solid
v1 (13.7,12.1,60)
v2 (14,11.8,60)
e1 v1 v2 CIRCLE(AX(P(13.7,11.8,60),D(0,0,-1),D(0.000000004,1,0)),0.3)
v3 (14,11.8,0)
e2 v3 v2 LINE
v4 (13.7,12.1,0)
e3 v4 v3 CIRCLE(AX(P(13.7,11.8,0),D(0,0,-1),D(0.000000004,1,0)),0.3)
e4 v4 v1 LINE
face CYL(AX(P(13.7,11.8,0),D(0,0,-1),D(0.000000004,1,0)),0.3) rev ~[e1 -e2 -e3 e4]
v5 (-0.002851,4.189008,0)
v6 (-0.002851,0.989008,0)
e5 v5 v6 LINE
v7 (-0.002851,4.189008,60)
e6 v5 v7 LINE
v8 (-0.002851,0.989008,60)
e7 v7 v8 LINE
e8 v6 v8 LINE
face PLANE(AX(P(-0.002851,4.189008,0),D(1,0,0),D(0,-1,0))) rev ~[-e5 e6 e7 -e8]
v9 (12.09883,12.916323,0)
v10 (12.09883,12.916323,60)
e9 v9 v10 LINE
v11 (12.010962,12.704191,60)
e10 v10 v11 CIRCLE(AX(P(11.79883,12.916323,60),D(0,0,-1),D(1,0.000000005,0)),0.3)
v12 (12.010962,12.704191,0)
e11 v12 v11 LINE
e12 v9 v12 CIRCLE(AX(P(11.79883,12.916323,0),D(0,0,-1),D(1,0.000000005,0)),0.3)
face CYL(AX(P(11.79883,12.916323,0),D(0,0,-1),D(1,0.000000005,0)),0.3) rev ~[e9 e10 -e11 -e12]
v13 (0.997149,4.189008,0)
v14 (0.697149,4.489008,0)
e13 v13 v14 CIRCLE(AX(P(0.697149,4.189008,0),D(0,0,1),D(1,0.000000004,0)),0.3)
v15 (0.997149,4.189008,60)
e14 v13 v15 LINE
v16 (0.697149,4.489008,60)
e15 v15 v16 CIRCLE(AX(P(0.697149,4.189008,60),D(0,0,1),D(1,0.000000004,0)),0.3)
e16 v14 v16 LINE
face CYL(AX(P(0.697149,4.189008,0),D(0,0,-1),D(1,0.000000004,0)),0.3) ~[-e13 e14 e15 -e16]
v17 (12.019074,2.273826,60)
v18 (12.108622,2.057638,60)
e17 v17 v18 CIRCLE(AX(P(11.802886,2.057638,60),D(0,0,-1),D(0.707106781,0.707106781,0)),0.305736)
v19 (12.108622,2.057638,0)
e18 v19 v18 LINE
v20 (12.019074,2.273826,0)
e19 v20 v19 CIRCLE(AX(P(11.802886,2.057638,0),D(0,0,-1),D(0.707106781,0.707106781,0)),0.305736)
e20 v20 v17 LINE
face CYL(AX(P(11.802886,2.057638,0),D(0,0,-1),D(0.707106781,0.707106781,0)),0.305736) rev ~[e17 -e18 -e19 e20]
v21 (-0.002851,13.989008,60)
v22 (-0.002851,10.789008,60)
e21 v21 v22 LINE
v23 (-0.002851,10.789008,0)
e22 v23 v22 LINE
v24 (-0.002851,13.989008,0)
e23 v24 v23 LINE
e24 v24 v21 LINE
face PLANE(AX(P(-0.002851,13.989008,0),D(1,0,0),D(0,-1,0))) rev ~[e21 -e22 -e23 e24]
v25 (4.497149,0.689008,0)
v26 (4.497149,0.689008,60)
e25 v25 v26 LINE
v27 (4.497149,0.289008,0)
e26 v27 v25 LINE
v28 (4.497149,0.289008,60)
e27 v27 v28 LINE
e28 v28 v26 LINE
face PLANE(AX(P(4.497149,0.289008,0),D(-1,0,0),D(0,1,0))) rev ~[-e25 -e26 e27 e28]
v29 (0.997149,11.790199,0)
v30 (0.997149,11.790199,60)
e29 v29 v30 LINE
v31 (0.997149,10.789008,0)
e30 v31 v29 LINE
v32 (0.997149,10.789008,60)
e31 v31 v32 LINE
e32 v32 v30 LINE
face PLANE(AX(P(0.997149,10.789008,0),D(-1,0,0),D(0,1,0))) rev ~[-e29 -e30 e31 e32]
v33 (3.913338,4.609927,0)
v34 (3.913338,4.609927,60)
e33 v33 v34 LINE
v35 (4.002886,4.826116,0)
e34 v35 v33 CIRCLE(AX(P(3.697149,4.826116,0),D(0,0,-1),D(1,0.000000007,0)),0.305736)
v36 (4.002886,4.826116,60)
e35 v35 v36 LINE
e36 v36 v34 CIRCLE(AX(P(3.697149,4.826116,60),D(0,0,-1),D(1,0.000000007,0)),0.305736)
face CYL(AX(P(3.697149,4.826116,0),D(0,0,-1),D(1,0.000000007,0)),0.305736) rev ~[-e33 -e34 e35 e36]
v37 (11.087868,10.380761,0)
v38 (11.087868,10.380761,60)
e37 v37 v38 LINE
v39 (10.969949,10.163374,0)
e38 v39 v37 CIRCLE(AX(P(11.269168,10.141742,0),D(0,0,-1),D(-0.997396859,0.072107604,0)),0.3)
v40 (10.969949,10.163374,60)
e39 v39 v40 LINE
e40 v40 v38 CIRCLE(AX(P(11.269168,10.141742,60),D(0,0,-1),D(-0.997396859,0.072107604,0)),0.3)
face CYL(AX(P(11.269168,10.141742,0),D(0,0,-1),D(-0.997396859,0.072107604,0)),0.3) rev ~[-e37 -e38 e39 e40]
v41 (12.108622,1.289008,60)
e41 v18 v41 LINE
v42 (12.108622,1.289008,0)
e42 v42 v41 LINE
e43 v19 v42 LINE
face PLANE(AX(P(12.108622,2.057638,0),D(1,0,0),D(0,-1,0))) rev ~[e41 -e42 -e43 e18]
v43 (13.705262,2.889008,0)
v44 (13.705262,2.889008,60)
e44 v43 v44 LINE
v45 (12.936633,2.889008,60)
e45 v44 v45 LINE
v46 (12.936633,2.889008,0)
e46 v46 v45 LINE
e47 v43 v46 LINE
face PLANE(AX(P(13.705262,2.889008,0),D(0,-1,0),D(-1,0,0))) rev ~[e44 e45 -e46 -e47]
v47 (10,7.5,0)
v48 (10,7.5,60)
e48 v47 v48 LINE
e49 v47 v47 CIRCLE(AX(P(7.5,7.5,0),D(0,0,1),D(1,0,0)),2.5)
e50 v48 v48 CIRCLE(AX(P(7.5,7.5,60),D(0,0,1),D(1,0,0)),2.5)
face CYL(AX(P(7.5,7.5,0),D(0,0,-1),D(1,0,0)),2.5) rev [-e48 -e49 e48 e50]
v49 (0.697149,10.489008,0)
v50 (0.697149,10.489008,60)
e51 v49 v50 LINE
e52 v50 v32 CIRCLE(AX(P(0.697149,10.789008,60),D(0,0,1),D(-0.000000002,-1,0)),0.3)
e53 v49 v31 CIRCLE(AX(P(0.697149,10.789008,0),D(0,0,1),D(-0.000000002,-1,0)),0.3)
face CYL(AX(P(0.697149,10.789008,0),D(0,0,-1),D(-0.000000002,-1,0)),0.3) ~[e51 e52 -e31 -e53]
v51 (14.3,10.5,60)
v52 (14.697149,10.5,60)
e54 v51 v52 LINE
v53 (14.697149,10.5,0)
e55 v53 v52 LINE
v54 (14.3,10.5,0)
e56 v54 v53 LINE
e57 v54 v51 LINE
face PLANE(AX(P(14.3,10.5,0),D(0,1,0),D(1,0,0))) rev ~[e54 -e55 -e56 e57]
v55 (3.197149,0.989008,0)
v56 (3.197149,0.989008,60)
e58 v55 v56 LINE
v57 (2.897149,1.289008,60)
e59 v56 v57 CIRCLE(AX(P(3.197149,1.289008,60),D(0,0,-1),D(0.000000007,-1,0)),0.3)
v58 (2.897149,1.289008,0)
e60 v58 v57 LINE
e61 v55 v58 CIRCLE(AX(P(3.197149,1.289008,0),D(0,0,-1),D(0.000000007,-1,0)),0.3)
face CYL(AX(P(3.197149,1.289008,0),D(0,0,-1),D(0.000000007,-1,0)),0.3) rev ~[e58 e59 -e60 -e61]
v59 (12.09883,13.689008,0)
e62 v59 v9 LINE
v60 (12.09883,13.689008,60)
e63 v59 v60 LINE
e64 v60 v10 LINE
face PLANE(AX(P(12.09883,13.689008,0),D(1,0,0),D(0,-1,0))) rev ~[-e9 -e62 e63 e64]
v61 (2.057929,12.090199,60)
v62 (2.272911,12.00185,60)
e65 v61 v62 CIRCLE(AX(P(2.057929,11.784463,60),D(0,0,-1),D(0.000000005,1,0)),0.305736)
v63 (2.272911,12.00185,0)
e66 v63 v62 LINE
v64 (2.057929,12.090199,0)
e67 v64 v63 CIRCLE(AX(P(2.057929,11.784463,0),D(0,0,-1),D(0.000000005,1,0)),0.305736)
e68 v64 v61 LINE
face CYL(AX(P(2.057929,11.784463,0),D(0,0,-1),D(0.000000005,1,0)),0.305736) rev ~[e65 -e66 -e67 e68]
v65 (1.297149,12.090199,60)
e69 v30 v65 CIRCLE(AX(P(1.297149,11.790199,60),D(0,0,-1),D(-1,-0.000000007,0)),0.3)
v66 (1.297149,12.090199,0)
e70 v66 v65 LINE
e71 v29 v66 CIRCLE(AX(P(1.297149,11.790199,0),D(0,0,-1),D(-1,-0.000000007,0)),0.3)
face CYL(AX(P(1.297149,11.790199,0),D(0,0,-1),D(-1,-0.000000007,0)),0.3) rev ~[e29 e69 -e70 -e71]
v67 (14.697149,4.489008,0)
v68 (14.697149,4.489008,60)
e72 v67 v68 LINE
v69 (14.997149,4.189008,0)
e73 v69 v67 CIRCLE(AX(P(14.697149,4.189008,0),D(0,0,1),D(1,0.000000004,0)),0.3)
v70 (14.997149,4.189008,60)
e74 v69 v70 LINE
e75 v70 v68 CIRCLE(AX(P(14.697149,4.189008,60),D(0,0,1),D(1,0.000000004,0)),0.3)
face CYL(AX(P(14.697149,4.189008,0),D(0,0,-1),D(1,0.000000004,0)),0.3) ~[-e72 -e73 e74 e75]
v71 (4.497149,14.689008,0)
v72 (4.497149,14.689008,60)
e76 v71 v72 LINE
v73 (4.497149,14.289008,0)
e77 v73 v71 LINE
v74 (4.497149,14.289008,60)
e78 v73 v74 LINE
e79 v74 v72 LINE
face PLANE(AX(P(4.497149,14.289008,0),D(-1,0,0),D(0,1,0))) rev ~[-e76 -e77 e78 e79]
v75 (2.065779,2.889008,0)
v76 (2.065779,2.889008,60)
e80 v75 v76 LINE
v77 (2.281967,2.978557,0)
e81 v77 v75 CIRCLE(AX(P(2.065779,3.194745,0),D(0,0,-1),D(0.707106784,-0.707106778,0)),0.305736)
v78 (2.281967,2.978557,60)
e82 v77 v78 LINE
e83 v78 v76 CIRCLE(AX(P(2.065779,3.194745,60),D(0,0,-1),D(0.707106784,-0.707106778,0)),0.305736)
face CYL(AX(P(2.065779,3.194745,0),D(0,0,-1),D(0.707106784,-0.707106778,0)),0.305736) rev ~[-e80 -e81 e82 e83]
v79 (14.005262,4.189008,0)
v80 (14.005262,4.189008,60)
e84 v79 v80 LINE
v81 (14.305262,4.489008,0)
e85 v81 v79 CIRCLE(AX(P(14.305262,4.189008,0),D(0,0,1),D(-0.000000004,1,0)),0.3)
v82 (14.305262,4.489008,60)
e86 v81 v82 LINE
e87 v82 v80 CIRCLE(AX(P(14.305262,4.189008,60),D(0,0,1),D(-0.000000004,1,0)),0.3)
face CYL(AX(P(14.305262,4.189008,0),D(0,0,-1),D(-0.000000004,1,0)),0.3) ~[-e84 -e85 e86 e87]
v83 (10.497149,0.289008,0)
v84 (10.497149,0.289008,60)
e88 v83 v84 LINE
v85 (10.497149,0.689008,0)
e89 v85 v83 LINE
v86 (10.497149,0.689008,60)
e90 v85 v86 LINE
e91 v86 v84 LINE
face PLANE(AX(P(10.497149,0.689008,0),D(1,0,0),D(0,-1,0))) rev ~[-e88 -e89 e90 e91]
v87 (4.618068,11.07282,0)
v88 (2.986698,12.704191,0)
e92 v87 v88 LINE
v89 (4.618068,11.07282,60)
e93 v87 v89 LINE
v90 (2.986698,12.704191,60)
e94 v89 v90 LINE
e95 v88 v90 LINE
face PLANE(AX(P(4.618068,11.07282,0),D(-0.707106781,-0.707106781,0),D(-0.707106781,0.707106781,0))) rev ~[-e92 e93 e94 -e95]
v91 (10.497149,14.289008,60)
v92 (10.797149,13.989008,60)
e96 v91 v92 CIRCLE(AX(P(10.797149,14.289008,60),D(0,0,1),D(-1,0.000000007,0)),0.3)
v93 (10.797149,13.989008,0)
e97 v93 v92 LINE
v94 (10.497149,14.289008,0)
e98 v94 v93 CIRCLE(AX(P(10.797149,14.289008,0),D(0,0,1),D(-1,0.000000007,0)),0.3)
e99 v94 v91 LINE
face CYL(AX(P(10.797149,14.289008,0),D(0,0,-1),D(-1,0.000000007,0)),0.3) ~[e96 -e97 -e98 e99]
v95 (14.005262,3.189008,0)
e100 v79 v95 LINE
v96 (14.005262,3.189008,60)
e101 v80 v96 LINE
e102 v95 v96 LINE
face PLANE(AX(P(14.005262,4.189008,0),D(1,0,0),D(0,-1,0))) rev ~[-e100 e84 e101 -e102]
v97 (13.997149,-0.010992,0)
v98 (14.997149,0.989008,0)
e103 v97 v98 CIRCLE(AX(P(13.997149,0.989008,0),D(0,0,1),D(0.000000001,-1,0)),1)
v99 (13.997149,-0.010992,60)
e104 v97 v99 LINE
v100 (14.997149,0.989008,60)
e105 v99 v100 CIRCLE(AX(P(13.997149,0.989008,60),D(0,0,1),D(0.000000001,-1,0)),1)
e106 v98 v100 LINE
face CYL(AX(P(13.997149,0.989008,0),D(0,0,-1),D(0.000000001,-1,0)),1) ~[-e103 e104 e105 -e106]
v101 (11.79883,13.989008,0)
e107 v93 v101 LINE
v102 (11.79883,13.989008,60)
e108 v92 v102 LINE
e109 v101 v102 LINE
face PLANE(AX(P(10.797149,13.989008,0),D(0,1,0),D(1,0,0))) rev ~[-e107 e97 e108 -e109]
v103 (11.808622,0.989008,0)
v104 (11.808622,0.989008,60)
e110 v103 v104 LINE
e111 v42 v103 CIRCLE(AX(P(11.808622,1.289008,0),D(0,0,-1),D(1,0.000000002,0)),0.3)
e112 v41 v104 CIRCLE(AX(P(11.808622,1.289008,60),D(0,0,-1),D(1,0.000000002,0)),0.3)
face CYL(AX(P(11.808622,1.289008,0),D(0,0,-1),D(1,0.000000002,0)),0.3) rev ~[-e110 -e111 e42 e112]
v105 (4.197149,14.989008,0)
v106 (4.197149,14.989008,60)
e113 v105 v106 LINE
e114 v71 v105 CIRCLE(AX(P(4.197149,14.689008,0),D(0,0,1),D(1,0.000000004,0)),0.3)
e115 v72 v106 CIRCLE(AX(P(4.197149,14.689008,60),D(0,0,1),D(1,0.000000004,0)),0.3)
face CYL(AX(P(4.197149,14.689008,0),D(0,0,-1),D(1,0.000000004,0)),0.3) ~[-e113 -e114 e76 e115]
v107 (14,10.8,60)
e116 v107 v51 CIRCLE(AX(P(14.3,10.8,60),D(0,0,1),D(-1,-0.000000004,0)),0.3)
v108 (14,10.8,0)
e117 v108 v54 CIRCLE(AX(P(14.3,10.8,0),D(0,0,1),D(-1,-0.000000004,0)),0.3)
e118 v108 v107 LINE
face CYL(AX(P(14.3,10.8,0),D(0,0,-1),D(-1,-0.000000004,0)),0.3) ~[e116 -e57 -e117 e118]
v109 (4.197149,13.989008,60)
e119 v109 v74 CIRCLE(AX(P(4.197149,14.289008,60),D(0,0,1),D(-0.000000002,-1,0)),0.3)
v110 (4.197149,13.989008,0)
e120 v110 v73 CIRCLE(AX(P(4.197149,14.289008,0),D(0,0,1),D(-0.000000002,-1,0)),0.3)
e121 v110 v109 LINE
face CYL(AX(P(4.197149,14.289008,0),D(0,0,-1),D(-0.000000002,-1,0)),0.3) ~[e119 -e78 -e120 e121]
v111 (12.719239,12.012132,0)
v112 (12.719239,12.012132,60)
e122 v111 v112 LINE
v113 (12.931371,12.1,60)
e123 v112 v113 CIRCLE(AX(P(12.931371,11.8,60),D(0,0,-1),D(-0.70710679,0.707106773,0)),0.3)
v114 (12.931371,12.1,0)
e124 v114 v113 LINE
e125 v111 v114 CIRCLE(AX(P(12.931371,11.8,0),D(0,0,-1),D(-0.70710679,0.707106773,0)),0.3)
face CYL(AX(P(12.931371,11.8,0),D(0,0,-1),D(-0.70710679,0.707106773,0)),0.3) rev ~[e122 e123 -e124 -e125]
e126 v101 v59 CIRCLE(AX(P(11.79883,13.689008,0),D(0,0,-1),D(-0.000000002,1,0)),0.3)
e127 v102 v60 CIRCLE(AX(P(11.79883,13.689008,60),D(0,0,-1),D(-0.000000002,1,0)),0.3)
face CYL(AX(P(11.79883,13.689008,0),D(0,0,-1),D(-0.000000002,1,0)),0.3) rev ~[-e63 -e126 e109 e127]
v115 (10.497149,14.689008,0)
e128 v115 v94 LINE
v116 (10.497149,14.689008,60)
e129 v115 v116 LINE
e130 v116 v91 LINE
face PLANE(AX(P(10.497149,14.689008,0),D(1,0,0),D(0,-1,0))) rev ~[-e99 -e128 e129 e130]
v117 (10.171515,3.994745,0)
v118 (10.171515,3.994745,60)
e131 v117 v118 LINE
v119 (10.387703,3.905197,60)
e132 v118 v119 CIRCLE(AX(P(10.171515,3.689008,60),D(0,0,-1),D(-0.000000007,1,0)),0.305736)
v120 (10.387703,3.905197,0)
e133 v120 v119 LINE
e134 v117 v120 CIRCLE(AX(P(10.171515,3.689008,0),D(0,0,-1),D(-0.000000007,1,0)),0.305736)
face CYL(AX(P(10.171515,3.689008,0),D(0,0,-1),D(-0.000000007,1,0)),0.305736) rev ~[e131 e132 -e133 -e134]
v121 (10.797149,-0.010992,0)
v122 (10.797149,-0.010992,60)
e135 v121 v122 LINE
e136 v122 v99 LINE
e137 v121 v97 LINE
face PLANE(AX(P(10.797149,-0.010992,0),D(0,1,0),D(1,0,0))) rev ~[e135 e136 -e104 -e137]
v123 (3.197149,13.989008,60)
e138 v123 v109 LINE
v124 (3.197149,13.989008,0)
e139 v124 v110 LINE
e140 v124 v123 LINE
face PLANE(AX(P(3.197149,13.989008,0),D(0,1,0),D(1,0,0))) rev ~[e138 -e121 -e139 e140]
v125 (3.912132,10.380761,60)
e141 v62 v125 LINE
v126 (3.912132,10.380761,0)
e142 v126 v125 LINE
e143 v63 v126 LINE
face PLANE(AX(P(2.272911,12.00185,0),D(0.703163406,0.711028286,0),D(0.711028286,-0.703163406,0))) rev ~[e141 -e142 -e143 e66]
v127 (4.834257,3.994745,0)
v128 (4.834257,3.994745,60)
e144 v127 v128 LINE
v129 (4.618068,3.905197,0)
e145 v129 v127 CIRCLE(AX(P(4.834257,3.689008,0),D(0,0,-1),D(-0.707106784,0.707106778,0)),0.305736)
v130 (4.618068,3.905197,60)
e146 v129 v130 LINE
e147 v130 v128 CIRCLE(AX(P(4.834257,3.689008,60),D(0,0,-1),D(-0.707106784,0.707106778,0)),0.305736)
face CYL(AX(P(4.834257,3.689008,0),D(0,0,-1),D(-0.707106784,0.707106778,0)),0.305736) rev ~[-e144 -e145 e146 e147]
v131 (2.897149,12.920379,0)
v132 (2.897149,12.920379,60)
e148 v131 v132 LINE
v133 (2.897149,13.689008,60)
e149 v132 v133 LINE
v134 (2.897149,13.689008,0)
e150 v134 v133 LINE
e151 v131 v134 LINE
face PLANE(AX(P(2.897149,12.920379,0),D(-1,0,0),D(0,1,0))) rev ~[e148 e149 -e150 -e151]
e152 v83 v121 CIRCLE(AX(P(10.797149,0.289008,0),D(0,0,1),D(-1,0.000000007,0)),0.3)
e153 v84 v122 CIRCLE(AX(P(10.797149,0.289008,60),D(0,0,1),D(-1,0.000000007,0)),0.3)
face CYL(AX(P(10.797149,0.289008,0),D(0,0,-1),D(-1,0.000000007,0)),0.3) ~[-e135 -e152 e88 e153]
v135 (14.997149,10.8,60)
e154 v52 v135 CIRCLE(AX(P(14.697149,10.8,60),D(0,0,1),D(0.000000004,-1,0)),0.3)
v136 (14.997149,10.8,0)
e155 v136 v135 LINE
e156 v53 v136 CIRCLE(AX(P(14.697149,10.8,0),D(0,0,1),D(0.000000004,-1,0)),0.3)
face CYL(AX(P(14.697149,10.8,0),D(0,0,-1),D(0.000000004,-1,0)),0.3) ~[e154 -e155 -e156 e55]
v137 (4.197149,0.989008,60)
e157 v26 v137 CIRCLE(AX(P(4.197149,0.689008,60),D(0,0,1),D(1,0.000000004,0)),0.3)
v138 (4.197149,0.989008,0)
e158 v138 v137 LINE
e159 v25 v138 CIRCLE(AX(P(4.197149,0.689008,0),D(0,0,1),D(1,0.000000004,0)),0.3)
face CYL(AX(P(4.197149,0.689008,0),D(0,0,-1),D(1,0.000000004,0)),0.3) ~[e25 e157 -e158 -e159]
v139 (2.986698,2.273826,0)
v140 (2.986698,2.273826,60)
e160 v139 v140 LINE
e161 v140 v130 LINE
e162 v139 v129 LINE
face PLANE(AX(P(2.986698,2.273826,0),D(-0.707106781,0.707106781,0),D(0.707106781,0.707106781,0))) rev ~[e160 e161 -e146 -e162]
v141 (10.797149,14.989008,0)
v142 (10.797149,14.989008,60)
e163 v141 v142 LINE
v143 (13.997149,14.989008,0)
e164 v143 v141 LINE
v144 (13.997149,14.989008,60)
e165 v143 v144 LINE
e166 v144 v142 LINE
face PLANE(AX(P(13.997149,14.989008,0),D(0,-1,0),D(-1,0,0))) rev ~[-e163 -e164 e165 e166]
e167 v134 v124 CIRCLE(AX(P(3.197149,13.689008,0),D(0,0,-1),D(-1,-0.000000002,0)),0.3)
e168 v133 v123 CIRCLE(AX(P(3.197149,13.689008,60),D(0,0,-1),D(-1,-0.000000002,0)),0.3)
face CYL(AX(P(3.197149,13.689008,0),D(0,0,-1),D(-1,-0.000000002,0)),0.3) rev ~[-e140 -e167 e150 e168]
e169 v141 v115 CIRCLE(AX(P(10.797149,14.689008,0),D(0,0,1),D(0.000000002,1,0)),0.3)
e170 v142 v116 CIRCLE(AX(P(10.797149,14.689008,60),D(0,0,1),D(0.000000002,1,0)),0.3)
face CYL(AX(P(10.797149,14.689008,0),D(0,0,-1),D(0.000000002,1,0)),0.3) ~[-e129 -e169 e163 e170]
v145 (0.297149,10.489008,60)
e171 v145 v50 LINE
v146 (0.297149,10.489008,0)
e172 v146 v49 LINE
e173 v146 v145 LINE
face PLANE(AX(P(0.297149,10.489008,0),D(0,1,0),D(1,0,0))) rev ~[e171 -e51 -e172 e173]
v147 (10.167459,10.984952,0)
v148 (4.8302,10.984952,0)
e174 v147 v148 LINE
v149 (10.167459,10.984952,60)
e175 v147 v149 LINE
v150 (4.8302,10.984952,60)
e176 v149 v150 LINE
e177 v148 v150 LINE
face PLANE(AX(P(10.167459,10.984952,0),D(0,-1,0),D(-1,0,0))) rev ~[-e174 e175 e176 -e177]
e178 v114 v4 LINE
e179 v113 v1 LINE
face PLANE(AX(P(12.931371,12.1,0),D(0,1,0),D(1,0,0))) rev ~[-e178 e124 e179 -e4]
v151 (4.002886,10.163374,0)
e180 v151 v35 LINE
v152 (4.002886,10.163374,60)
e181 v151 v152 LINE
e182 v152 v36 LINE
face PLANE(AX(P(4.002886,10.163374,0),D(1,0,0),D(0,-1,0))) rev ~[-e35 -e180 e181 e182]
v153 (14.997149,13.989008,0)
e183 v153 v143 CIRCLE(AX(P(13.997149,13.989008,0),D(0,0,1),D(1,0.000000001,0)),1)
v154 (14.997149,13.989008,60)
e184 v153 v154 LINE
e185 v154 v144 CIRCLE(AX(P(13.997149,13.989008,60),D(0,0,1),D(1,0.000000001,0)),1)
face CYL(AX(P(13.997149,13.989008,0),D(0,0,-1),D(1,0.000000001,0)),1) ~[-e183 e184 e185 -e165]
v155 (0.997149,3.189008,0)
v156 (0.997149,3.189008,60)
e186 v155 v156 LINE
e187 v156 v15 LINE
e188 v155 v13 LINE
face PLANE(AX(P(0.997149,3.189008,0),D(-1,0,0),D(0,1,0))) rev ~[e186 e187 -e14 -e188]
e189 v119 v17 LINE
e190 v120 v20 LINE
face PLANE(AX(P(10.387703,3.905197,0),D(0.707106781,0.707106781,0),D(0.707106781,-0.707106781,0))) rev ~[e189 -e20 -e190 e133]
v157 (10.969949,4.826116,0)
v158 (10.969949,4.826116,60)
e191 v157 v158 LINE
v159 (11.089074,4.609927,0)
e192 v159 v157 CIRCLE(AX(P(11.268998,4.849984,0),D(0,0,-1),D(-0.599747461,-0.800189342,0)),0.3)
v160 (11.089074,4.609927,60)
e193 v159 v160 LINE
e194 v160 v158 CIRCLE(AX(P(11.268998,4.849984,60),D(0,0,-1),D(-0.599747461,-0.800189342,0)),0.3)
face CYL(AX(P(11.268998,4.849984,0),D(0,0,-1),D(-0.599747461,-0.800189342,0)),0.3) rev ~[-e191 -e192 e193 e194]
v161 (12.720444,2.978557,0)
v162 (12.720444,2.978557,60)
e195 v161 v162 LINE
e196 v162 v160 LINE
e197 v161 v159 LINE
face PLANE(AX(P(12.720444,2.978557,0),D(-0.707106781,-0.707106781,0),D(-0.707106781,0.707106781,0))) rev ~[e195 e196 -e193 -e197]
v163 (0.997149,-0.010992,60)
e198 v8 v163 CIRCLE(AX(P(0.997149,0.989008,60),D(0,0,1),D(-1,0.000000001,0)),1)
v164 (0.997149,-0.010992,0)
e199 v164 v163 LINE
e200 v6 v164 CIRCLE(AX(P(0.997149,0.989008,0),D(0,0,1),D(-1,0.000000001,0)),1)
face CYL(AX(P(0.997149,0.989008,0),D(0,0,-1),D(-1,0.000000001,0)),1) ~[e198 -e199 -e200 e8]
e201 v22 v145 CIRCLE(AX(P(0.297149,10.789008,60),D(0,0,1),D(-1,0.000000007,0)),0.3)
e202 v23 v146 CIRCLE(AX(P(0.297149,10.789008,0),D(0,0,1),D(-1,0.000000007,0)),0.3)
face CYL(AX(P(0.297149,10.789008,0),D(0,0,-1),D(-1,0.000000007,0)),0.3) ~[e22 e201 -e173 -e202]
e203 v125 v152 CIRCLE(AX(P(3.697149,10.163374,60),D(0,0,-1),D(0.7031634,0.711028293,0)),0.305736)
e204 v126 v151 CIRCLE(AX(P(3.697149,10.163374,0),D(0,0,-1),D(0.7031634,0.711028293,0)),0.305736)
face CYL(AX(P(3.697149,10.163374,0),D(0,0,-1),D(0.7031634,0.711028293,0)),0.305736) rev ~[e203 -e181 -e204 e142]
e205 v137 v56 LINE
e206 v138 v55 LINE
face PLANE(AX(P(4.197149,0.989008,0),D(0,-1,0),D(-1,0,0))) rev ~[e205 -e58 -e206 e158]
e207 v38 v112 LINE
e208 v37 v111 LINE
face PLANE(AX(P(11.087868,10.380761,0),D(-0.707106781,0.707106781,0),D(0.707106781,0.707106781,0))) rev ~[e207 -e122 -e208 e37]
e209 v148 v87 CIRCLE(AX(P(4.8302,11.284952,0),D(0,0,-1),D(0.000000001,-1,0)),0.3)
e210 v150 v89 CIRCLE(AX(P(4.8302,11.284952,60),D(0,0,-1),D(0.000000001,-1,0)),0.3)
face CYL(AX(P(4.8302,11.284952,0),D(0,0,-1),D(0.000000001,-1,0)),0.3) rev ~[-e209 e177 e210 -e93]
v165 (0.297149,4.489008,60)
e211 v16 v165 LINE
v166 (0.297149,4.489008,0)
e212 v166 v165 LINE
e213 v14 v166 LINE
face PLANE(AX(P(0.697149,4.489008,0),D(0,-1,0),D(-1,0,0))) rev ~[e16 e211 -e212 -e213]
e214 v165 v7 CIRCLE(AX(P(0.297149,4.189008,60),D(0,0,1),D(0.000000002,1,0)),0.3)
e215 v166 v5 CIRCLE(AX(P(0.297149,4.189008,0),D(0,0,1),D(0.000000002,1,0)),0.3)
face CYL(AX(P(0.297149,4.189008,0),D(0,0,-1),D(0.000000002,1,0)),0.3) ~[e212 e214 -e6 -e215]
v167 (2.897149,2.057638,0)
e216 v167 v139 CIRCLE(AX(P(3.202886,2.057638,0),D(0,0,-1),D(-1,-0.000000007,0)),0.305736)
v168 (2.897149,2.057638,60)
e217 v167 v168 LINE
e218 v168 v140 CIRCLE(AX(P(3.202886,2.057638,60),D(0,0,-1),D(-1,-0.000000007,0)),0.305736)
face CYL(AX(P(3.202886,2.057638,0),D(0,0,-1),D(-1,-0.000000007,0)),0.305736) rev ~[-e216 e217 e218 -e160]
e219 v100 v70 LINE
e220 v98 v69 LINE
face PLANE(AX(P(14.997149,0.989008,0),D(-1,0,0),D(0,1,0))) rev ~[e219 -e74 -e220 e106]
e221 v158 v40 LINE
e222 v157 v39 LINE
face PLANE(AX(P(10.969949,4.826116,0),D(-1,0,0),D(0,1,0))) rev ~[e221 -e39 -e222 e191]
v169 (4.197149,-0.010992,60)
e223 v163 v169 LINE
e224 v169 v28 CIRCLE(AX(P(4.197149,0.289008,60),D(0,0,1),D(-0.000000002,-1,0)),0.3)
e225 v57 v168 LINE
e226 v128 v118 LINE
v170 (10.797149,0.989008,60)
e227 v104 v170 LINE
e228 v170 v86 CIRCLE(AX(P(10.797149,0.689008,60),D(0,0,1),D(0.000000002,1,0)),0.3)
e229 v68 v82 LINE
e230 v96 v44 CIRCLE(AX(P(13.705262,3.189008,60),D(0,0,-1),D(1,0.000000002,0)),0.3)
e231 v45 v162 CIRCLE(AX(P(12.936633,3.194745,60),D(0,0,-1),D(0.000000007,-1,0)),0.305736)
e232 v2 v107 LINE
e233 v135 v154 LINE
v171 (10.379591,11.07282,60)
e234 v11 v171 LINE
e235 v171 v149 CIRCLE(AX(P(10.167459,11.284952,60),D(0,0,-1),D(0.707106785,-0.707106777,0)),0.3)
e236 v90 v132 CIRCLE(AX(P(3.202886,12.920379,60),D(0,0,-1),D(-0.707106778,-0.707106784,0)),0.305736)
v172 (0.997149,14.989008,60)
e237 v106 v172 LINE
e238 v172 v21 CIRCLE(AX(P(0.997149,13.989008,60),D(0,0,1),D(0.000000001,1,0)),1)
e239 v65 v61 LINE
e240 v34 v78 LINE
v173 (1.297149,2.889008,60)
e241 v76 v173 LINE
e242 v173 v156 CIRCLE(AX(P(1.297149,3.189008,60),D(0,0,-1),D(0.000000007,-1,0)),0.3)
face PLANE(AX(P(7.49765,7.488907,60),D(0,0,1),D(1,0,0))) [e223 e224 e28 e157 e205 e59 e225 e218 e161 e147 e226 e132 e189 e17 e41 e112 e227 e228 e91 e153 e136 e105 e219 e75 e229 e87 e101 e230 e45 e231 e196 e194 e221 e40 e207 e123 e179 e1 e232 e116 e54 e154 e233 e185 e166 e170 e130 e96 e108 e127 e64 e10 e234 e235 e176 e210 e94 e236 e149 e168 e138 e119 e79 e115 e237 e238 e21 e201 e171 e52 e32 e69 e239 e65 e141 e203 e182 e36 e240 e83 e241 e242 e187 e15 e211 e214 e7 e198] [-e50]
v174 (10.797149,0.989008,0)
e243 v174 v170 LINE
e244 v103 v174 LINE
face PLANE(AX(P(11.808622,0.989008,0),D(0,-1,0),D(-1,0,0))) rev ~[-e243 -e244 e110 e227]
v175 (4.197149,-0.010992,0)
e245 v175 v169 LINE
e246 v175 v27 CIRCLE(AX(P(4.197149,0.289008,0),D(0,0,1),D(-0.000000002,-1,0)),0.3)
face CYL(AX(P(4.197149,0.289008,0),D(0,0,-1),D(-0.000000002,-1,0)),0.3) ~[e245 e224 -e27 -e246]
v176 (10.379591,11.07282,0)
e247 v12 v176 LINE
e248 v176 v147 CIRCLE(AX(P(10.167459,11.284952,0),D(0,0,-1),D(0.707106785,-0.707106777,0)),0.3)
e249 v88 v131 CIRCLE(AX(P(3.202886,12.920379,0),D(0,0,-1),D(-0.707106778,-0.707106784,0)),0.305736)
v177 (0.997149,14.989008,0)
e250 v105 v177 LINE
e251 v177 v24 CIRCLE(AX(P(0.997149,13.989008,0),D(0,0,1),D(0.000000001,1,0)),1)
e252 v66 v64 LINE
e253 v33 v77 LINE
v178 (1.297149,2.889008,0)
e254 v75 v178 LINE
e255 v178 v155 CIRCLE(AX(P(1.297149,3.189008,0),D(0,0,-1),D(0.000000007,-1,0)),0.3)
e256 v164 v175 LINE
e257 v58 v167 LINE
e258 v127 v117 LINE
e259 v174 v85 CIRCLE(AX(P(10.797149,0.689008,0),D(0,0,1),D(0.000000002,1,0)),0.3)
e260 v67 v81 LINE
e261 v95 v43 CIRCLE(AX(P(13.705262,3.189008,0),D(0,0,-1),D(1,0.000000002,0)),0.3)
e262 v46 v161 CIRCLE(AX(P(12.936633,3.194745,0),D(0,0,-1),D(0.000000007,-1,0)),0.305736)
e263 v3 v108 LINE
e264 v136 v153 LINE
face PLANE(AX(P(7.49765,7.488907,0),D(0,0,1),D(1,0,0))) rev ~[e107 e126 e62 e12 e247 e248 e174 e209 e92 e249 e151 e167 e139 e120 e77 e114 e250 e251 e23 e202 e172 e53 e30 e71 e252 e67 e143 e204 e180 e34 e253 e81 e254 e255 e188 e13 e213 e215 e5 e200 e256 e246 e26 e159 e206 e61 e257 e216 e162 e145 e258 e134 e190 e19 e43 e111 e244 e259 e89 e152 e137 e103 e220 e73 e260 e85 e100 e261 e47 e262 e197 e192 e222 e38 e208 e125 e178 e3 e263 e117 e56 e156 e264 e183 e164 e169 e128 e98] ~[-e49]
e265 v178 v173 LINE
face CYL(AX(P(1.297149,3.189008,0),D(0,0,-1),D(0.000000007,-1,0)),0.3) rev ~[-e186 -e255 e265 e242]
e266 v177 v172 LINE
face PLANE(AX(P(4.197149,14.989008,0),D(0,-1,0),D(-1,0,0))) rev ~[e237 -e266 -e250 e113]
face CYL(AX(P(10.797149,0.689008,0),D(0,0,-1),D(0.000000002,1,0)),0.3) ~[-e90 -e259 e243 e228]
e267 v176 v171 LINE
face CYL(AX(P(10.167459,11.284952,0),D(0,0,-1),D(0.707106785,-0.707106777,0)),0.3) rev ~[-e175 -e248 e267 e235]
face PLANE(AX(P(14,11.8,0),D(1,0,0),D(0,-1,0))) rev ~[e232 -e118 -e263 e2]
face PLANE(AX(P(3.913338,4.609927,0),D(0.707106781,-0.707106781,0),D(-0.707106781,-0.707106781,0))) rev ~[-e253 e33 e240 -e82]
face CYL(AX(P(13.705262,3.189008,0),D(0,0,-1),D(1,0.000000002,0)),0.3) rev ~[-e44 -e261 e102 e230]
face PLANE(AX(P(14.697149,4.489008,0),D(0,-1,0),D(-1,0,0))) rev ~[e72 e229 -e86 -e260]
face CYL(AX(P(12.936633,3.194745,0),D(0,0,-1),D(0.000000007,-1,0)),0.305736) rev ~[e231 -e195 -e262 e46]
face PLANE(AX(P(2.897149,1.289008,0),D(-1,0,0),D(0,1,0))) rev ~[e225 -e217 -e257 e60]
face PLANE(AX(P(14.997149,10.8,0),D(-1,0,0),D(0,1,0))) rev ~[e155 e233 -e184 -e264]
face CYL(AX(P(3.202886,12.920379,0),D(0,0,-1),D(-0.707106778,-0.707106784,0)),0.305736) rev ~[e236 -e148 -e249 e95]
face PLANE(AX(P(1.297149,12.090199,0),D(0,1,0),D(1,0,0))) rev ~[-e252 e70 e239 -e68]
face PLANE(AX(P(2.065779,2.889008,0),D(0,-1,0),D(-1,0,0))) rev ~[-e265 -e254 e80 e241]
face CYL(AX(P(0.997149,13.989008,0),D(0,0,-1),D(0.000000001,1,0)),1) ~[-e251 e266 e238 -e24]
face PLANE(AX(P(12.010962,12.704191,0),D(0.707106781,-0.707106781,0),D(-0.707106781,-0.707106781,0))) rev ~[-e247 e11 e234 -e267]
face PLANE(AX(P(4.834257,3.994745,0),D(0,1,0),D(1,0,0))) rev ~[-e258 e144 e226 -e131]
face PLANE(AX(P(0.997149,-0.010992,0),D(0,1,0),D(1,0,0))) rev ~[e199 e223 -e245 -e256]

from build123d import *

# Parameters (mm, degrees)
SKETCH1_R           = 2.5
BOSS_EXTRUDE1_DEPTH = 60


with BuildPart() as part:
    # Sketch1 → Boss-Extrude1 (new body)
    with BuildSketch(Plane.XY):
        with BuildLine():
            Line((0.997149379, -0.010991612), (4.197149379, -0.010991612))
            ThreePointArc((4.197149379, -0.010991612), (4.409281413, 0.076876353), (4.497149379, 0.289008388))
            Line((4.497149379, 0.289008388), (4.497149379, 0.689008388))
            ThreePointArc((4.497149379, 0.689008388), (4.409281413, 0.901140422), (4.197149379, 0.989008388))
            Line((4.197149379, 0.989008388), (3.197149379, 0.989008388))
            ThreePointArc((3.197149379, 0.989008388), (2.985017344, 1.076876353), (2.897149379, 1.289008388))
            Line((2.897149379, 1.289008388), (2.897149379, 2.057637538))
            ThreePointArc((2.897149379, 2.057637538), (2.920422177, 2.174637797), (2.9866975, 2.273825827))
            Line((2.9866975, 2.273825827), (4.61806835, 3.905196677))
            ThreePointArc((4.61806835, 3.905196677), (4.71725638, 3.971472), (4.834256639, 3.994744798))
            Line((4.834256639, 3.994744798), (10.171514939, 3.994744798))
            ThreePointArc((10.171514939, 3.994744798), (10.288515198, 3.971472), (10.387703228, 3.905196677))
            Line((10.387703228, 3.905196677), (12.019074078, 2.273825827))
            ThreePointArc((12.019074078, 2.273825827), (12.085349401, 2.174637797), (12.1086222, 2.057637538))
            Line((12.1086222, 2.057637538), (12.1086222, 1.289008388))
            ThreePointArc((12.1086222, 1.289008388), (12.020754234, 1.076876353), (11.8086222, 0.989008388))
            Line((11.8086222, 0.989008388), (10.797149379, 0.989008388))
            ThreePointArc((10.797149379, 0.989008388), (10.585017344, 0.901140422), (10.497149379, 0.689008388))
            Line((10.497149379, 0.689008388), (10.497149379, 0.289008388))
            ThreePointArc((10.497149379, 0.289008388), (10.585017344, 0.076876353), (10.797149379, -0.010991612))
            Line((10.797149379, -0.010991612), (13.997149379, -0.010991612))
            ThreePointArc((13.997149379, -0.010991612), (14.70425616, 0.281901607), (14.997149379, 0.989008388))
            Line((14.997149379, 0.989008388), (14.997149379, 4.189008388))
            ThreePointArc((14.997149379, 4.189008388), (14.909281413, 4.401140422), (14.697149379, 4.489008388))
            Line((14.697149379, 4.489008388), (14.305261888, 4.489008388))
            ThreePointArc((14.305261888, 4.489008388), (14.093129854, 4.401140422), (14.005261888, 4.189008388))
            Line((14.005261888, 4.189008388), (14.005261888, 3.189008388))
            ThreePointArc((14.005261888, 3.189008388), (13.917393922, 2.976876353), (13.705261888, 2.889008388))
            Line((13.705261888, 2.889008388), (12.936632738, 2.889008388))
            ThreePointArc((12.936632738, 2.889008388), (12.819632479, 2.912281186), (12.720444449, 2.978556509))
            Line((12.720444449, 2.978556509), (11.089073599, 4.609927359))
            ThreePointArc((11.089073599, 4.609927359), (11.006246661, 4.70520219), (10.969948855, 4.826115648))
            Line((10.969948855, 4.826115648), (10.969948855, 10.163373948))
            ThreePointArc((10.969948855, 10.163373948), (11.00546556, 10.284783861), (11.087867966, 10.380761184))
            Line((11.087867966, 10.380761184), (12.719238816, 12.012132034))
            ThreePointArc((12.719238816, 12.012132034), (12.81656582, 12.07716386), (12.93137085, 12.1))
            Line((12.93137085, 12.1), (13.7, 12.1))
            ThreePointArc((13.7, 12.1), (13.912132034, 12.012132034), (14, 11.8))
            Line((14, 11.8), (14, 10.8))
            ThreePointArc((14, 10.8), (14.087867966, 10.587867966), (14.3, 10.5))
            Line((14.3, 10.5), (14.697149379, 10.5))
            ThreePointArc((14.697149379, 10.5), (14.909281413, 10.587867966), (14.997149379, 10.8))
            Line((14.997149379, 10.8), (14.997149379, 13.989008388))
            ThreePointArc((14.997149379, 13.989008388), (14.70425616, 14.696115169), (13.997149379, 14.989008388))
            Line((13.997149379, 14.989008388), (10.797149379, 14.989008388))
            ThreePointArc((10.797149379, 14.989008388), (10.585017344, 14.901140422), (10.497149379, 14.689008388))
            Line((10.497149379, 14.689008388), (10.497149379, 14.289008388))
            ThreePointArc((10.497149379, 14.289008388), (10.585017344, 14.076876353), (10.797149379, 13.989008388))
            Line((10.797149379, 13.989008388), (11.798829534, 13.989008388))
            ThreePointArc((11.798829534, 13.989008388), (12.010961569, 13.901140422), (12.098829534, 13.689008388))
            Line((12.098829534, 13.689008388), (12.098829534, 12.916322983))
            ThreePointArc((12.098829534, 12.916322983), (12.075993394, 12.801517953), (12.010961569, 12.704190949))
            Line((12.010961569, 12.704190949), (10.379590719, 11.072820099))
            ThreePointArc((10.379590719, 11.072820099), (10.282263714, 11.007788273), (10.167458684, 10.984952133))
            Line((10.167458684, 10.984952133), (4.830200384, 10.984952133))
            ThreePointArc((4.830200384, 10.984952133), (4.715395355, 11.007788273), (4.61806835, 11.072820099))
            Line((4.61806835, 11.072820099), (2.9866975, 12.704190949))
            ThreePointArc((2.9866975, 12.704190949), (2.920422177, 12.803378979), (2.897149379, 12.920379238))
            Line((2.897149379, 12.920379238), (2.897149379, 13.689008388))
            ThreePointArc((2.897149379, 13.689008388), (2.985017344, 13.901140422), (3.197149379, 13.989008388))
            Line((3.197149379, 13.989008388), (4.197149379, 13.989008388))
            ThreePointArc((4.197149379, 13.989008388), (4.409281413, 14.076876353), (4.497149379, 14.289008388))
            Line((4.497149379, 14.289008388), (4.497149379, 14.689008388))
            ThreePointArc((4.497149379, 14.689008388), (4.409281413, 14.901140422), (4.197149379, 14.989008388))
            Line((4.197149379, 14.989008388), (0.997149379, 14.989008388))
            ThreePointArc((0.997149379, 14.989008388), (0.290042597, 14.696115169), (-0.002850621, 13.989008388))
            Line((-0.002850621, 13.989008388), (-0.002850621, 10.789008388))
            ThreePointArc((-0.002850621, 10.789008388), (0.085017344, 10.576876353), (0.297149379, 10.489008388))
            Line((0.297149379, 10.489008388), (0.697149379, 10.489008388))
            ThreePointArc((0.697149379, 10.489008388), (0.909281413, 10.576876353), (0.997149379, 10.789008388))
            Line((0.997149379, 10.789008388), (0.997149379, 11.790199043))
            ThreePointArc((0.997149379, 11.790199043), (1.085017344, 12.002331078), (1.297149379, 12.090199043))
            Line((1.297149379, 12.090199043), (2.057928823, 12.090199043))
            ThreePointArc((2.057928823, 12.090199043), (2.174143192, 12.067250491), (2.272911478, 12.001849869))
            Line((2.272911478, 12.001849869), (3.912132034, 10.380761184))
            ThreePointArc((3.912132034, 10.380761184), (3.97928656, 10.281159192), (4.002885789, 10.163373948))
            Line((4.002885789, 10.163373948), (4.002885789, 4.826115648))
            ThreePointArc((4.002885789, 4.826115648), (3.979612991, 4.709115389), (3.913337668, 4.609927359))
            Line((3.913337668, 4.609927359), (2.281966818, 2.978556509))
            ThreePointArc((2.281966818, 2.978556509), (2.182778788, 2.912281186), (2.065778529, 2.889008388))
            Line((2.065778529, 2.889008388), (1.297149379, 2.889008388))
            ThreePointArc((1.297149379, 2.889008388), (1.085017344, 2.976876353), (0.997149379, 3.189008388))
            Line((0.997149379, 3.189008388), (0.997149379, 4.189008388))
            ThreePointArc((0.997149379, 4.189008388), (0.909281413, 4.401140422), (0.697149379, 4.489008388))
            Line((0.697149379, 4.489008388), (0.297149379, 4.489008388))
            ThreePointArc((0.297149379, 4.489008388), (0.085017344, 4.401140422), (-0.002850621, 4.189008388))
            Line((-0.002850621, 4.189008388), (-0.002850621, 0.989008388))
            ThreePointArc((-0.002850621, 0.989008388), (0.290042597, 0.281901607), (0.997149379, -0.010991612))
        make_face()
        with Locations((7.5, 7.5)):
            Circle(SKETCH1_R, mode=Mode.SUBTRACT)
    extrude(amount=BOSS_EXTRUDE1_DEPTH)


solid = part.part
